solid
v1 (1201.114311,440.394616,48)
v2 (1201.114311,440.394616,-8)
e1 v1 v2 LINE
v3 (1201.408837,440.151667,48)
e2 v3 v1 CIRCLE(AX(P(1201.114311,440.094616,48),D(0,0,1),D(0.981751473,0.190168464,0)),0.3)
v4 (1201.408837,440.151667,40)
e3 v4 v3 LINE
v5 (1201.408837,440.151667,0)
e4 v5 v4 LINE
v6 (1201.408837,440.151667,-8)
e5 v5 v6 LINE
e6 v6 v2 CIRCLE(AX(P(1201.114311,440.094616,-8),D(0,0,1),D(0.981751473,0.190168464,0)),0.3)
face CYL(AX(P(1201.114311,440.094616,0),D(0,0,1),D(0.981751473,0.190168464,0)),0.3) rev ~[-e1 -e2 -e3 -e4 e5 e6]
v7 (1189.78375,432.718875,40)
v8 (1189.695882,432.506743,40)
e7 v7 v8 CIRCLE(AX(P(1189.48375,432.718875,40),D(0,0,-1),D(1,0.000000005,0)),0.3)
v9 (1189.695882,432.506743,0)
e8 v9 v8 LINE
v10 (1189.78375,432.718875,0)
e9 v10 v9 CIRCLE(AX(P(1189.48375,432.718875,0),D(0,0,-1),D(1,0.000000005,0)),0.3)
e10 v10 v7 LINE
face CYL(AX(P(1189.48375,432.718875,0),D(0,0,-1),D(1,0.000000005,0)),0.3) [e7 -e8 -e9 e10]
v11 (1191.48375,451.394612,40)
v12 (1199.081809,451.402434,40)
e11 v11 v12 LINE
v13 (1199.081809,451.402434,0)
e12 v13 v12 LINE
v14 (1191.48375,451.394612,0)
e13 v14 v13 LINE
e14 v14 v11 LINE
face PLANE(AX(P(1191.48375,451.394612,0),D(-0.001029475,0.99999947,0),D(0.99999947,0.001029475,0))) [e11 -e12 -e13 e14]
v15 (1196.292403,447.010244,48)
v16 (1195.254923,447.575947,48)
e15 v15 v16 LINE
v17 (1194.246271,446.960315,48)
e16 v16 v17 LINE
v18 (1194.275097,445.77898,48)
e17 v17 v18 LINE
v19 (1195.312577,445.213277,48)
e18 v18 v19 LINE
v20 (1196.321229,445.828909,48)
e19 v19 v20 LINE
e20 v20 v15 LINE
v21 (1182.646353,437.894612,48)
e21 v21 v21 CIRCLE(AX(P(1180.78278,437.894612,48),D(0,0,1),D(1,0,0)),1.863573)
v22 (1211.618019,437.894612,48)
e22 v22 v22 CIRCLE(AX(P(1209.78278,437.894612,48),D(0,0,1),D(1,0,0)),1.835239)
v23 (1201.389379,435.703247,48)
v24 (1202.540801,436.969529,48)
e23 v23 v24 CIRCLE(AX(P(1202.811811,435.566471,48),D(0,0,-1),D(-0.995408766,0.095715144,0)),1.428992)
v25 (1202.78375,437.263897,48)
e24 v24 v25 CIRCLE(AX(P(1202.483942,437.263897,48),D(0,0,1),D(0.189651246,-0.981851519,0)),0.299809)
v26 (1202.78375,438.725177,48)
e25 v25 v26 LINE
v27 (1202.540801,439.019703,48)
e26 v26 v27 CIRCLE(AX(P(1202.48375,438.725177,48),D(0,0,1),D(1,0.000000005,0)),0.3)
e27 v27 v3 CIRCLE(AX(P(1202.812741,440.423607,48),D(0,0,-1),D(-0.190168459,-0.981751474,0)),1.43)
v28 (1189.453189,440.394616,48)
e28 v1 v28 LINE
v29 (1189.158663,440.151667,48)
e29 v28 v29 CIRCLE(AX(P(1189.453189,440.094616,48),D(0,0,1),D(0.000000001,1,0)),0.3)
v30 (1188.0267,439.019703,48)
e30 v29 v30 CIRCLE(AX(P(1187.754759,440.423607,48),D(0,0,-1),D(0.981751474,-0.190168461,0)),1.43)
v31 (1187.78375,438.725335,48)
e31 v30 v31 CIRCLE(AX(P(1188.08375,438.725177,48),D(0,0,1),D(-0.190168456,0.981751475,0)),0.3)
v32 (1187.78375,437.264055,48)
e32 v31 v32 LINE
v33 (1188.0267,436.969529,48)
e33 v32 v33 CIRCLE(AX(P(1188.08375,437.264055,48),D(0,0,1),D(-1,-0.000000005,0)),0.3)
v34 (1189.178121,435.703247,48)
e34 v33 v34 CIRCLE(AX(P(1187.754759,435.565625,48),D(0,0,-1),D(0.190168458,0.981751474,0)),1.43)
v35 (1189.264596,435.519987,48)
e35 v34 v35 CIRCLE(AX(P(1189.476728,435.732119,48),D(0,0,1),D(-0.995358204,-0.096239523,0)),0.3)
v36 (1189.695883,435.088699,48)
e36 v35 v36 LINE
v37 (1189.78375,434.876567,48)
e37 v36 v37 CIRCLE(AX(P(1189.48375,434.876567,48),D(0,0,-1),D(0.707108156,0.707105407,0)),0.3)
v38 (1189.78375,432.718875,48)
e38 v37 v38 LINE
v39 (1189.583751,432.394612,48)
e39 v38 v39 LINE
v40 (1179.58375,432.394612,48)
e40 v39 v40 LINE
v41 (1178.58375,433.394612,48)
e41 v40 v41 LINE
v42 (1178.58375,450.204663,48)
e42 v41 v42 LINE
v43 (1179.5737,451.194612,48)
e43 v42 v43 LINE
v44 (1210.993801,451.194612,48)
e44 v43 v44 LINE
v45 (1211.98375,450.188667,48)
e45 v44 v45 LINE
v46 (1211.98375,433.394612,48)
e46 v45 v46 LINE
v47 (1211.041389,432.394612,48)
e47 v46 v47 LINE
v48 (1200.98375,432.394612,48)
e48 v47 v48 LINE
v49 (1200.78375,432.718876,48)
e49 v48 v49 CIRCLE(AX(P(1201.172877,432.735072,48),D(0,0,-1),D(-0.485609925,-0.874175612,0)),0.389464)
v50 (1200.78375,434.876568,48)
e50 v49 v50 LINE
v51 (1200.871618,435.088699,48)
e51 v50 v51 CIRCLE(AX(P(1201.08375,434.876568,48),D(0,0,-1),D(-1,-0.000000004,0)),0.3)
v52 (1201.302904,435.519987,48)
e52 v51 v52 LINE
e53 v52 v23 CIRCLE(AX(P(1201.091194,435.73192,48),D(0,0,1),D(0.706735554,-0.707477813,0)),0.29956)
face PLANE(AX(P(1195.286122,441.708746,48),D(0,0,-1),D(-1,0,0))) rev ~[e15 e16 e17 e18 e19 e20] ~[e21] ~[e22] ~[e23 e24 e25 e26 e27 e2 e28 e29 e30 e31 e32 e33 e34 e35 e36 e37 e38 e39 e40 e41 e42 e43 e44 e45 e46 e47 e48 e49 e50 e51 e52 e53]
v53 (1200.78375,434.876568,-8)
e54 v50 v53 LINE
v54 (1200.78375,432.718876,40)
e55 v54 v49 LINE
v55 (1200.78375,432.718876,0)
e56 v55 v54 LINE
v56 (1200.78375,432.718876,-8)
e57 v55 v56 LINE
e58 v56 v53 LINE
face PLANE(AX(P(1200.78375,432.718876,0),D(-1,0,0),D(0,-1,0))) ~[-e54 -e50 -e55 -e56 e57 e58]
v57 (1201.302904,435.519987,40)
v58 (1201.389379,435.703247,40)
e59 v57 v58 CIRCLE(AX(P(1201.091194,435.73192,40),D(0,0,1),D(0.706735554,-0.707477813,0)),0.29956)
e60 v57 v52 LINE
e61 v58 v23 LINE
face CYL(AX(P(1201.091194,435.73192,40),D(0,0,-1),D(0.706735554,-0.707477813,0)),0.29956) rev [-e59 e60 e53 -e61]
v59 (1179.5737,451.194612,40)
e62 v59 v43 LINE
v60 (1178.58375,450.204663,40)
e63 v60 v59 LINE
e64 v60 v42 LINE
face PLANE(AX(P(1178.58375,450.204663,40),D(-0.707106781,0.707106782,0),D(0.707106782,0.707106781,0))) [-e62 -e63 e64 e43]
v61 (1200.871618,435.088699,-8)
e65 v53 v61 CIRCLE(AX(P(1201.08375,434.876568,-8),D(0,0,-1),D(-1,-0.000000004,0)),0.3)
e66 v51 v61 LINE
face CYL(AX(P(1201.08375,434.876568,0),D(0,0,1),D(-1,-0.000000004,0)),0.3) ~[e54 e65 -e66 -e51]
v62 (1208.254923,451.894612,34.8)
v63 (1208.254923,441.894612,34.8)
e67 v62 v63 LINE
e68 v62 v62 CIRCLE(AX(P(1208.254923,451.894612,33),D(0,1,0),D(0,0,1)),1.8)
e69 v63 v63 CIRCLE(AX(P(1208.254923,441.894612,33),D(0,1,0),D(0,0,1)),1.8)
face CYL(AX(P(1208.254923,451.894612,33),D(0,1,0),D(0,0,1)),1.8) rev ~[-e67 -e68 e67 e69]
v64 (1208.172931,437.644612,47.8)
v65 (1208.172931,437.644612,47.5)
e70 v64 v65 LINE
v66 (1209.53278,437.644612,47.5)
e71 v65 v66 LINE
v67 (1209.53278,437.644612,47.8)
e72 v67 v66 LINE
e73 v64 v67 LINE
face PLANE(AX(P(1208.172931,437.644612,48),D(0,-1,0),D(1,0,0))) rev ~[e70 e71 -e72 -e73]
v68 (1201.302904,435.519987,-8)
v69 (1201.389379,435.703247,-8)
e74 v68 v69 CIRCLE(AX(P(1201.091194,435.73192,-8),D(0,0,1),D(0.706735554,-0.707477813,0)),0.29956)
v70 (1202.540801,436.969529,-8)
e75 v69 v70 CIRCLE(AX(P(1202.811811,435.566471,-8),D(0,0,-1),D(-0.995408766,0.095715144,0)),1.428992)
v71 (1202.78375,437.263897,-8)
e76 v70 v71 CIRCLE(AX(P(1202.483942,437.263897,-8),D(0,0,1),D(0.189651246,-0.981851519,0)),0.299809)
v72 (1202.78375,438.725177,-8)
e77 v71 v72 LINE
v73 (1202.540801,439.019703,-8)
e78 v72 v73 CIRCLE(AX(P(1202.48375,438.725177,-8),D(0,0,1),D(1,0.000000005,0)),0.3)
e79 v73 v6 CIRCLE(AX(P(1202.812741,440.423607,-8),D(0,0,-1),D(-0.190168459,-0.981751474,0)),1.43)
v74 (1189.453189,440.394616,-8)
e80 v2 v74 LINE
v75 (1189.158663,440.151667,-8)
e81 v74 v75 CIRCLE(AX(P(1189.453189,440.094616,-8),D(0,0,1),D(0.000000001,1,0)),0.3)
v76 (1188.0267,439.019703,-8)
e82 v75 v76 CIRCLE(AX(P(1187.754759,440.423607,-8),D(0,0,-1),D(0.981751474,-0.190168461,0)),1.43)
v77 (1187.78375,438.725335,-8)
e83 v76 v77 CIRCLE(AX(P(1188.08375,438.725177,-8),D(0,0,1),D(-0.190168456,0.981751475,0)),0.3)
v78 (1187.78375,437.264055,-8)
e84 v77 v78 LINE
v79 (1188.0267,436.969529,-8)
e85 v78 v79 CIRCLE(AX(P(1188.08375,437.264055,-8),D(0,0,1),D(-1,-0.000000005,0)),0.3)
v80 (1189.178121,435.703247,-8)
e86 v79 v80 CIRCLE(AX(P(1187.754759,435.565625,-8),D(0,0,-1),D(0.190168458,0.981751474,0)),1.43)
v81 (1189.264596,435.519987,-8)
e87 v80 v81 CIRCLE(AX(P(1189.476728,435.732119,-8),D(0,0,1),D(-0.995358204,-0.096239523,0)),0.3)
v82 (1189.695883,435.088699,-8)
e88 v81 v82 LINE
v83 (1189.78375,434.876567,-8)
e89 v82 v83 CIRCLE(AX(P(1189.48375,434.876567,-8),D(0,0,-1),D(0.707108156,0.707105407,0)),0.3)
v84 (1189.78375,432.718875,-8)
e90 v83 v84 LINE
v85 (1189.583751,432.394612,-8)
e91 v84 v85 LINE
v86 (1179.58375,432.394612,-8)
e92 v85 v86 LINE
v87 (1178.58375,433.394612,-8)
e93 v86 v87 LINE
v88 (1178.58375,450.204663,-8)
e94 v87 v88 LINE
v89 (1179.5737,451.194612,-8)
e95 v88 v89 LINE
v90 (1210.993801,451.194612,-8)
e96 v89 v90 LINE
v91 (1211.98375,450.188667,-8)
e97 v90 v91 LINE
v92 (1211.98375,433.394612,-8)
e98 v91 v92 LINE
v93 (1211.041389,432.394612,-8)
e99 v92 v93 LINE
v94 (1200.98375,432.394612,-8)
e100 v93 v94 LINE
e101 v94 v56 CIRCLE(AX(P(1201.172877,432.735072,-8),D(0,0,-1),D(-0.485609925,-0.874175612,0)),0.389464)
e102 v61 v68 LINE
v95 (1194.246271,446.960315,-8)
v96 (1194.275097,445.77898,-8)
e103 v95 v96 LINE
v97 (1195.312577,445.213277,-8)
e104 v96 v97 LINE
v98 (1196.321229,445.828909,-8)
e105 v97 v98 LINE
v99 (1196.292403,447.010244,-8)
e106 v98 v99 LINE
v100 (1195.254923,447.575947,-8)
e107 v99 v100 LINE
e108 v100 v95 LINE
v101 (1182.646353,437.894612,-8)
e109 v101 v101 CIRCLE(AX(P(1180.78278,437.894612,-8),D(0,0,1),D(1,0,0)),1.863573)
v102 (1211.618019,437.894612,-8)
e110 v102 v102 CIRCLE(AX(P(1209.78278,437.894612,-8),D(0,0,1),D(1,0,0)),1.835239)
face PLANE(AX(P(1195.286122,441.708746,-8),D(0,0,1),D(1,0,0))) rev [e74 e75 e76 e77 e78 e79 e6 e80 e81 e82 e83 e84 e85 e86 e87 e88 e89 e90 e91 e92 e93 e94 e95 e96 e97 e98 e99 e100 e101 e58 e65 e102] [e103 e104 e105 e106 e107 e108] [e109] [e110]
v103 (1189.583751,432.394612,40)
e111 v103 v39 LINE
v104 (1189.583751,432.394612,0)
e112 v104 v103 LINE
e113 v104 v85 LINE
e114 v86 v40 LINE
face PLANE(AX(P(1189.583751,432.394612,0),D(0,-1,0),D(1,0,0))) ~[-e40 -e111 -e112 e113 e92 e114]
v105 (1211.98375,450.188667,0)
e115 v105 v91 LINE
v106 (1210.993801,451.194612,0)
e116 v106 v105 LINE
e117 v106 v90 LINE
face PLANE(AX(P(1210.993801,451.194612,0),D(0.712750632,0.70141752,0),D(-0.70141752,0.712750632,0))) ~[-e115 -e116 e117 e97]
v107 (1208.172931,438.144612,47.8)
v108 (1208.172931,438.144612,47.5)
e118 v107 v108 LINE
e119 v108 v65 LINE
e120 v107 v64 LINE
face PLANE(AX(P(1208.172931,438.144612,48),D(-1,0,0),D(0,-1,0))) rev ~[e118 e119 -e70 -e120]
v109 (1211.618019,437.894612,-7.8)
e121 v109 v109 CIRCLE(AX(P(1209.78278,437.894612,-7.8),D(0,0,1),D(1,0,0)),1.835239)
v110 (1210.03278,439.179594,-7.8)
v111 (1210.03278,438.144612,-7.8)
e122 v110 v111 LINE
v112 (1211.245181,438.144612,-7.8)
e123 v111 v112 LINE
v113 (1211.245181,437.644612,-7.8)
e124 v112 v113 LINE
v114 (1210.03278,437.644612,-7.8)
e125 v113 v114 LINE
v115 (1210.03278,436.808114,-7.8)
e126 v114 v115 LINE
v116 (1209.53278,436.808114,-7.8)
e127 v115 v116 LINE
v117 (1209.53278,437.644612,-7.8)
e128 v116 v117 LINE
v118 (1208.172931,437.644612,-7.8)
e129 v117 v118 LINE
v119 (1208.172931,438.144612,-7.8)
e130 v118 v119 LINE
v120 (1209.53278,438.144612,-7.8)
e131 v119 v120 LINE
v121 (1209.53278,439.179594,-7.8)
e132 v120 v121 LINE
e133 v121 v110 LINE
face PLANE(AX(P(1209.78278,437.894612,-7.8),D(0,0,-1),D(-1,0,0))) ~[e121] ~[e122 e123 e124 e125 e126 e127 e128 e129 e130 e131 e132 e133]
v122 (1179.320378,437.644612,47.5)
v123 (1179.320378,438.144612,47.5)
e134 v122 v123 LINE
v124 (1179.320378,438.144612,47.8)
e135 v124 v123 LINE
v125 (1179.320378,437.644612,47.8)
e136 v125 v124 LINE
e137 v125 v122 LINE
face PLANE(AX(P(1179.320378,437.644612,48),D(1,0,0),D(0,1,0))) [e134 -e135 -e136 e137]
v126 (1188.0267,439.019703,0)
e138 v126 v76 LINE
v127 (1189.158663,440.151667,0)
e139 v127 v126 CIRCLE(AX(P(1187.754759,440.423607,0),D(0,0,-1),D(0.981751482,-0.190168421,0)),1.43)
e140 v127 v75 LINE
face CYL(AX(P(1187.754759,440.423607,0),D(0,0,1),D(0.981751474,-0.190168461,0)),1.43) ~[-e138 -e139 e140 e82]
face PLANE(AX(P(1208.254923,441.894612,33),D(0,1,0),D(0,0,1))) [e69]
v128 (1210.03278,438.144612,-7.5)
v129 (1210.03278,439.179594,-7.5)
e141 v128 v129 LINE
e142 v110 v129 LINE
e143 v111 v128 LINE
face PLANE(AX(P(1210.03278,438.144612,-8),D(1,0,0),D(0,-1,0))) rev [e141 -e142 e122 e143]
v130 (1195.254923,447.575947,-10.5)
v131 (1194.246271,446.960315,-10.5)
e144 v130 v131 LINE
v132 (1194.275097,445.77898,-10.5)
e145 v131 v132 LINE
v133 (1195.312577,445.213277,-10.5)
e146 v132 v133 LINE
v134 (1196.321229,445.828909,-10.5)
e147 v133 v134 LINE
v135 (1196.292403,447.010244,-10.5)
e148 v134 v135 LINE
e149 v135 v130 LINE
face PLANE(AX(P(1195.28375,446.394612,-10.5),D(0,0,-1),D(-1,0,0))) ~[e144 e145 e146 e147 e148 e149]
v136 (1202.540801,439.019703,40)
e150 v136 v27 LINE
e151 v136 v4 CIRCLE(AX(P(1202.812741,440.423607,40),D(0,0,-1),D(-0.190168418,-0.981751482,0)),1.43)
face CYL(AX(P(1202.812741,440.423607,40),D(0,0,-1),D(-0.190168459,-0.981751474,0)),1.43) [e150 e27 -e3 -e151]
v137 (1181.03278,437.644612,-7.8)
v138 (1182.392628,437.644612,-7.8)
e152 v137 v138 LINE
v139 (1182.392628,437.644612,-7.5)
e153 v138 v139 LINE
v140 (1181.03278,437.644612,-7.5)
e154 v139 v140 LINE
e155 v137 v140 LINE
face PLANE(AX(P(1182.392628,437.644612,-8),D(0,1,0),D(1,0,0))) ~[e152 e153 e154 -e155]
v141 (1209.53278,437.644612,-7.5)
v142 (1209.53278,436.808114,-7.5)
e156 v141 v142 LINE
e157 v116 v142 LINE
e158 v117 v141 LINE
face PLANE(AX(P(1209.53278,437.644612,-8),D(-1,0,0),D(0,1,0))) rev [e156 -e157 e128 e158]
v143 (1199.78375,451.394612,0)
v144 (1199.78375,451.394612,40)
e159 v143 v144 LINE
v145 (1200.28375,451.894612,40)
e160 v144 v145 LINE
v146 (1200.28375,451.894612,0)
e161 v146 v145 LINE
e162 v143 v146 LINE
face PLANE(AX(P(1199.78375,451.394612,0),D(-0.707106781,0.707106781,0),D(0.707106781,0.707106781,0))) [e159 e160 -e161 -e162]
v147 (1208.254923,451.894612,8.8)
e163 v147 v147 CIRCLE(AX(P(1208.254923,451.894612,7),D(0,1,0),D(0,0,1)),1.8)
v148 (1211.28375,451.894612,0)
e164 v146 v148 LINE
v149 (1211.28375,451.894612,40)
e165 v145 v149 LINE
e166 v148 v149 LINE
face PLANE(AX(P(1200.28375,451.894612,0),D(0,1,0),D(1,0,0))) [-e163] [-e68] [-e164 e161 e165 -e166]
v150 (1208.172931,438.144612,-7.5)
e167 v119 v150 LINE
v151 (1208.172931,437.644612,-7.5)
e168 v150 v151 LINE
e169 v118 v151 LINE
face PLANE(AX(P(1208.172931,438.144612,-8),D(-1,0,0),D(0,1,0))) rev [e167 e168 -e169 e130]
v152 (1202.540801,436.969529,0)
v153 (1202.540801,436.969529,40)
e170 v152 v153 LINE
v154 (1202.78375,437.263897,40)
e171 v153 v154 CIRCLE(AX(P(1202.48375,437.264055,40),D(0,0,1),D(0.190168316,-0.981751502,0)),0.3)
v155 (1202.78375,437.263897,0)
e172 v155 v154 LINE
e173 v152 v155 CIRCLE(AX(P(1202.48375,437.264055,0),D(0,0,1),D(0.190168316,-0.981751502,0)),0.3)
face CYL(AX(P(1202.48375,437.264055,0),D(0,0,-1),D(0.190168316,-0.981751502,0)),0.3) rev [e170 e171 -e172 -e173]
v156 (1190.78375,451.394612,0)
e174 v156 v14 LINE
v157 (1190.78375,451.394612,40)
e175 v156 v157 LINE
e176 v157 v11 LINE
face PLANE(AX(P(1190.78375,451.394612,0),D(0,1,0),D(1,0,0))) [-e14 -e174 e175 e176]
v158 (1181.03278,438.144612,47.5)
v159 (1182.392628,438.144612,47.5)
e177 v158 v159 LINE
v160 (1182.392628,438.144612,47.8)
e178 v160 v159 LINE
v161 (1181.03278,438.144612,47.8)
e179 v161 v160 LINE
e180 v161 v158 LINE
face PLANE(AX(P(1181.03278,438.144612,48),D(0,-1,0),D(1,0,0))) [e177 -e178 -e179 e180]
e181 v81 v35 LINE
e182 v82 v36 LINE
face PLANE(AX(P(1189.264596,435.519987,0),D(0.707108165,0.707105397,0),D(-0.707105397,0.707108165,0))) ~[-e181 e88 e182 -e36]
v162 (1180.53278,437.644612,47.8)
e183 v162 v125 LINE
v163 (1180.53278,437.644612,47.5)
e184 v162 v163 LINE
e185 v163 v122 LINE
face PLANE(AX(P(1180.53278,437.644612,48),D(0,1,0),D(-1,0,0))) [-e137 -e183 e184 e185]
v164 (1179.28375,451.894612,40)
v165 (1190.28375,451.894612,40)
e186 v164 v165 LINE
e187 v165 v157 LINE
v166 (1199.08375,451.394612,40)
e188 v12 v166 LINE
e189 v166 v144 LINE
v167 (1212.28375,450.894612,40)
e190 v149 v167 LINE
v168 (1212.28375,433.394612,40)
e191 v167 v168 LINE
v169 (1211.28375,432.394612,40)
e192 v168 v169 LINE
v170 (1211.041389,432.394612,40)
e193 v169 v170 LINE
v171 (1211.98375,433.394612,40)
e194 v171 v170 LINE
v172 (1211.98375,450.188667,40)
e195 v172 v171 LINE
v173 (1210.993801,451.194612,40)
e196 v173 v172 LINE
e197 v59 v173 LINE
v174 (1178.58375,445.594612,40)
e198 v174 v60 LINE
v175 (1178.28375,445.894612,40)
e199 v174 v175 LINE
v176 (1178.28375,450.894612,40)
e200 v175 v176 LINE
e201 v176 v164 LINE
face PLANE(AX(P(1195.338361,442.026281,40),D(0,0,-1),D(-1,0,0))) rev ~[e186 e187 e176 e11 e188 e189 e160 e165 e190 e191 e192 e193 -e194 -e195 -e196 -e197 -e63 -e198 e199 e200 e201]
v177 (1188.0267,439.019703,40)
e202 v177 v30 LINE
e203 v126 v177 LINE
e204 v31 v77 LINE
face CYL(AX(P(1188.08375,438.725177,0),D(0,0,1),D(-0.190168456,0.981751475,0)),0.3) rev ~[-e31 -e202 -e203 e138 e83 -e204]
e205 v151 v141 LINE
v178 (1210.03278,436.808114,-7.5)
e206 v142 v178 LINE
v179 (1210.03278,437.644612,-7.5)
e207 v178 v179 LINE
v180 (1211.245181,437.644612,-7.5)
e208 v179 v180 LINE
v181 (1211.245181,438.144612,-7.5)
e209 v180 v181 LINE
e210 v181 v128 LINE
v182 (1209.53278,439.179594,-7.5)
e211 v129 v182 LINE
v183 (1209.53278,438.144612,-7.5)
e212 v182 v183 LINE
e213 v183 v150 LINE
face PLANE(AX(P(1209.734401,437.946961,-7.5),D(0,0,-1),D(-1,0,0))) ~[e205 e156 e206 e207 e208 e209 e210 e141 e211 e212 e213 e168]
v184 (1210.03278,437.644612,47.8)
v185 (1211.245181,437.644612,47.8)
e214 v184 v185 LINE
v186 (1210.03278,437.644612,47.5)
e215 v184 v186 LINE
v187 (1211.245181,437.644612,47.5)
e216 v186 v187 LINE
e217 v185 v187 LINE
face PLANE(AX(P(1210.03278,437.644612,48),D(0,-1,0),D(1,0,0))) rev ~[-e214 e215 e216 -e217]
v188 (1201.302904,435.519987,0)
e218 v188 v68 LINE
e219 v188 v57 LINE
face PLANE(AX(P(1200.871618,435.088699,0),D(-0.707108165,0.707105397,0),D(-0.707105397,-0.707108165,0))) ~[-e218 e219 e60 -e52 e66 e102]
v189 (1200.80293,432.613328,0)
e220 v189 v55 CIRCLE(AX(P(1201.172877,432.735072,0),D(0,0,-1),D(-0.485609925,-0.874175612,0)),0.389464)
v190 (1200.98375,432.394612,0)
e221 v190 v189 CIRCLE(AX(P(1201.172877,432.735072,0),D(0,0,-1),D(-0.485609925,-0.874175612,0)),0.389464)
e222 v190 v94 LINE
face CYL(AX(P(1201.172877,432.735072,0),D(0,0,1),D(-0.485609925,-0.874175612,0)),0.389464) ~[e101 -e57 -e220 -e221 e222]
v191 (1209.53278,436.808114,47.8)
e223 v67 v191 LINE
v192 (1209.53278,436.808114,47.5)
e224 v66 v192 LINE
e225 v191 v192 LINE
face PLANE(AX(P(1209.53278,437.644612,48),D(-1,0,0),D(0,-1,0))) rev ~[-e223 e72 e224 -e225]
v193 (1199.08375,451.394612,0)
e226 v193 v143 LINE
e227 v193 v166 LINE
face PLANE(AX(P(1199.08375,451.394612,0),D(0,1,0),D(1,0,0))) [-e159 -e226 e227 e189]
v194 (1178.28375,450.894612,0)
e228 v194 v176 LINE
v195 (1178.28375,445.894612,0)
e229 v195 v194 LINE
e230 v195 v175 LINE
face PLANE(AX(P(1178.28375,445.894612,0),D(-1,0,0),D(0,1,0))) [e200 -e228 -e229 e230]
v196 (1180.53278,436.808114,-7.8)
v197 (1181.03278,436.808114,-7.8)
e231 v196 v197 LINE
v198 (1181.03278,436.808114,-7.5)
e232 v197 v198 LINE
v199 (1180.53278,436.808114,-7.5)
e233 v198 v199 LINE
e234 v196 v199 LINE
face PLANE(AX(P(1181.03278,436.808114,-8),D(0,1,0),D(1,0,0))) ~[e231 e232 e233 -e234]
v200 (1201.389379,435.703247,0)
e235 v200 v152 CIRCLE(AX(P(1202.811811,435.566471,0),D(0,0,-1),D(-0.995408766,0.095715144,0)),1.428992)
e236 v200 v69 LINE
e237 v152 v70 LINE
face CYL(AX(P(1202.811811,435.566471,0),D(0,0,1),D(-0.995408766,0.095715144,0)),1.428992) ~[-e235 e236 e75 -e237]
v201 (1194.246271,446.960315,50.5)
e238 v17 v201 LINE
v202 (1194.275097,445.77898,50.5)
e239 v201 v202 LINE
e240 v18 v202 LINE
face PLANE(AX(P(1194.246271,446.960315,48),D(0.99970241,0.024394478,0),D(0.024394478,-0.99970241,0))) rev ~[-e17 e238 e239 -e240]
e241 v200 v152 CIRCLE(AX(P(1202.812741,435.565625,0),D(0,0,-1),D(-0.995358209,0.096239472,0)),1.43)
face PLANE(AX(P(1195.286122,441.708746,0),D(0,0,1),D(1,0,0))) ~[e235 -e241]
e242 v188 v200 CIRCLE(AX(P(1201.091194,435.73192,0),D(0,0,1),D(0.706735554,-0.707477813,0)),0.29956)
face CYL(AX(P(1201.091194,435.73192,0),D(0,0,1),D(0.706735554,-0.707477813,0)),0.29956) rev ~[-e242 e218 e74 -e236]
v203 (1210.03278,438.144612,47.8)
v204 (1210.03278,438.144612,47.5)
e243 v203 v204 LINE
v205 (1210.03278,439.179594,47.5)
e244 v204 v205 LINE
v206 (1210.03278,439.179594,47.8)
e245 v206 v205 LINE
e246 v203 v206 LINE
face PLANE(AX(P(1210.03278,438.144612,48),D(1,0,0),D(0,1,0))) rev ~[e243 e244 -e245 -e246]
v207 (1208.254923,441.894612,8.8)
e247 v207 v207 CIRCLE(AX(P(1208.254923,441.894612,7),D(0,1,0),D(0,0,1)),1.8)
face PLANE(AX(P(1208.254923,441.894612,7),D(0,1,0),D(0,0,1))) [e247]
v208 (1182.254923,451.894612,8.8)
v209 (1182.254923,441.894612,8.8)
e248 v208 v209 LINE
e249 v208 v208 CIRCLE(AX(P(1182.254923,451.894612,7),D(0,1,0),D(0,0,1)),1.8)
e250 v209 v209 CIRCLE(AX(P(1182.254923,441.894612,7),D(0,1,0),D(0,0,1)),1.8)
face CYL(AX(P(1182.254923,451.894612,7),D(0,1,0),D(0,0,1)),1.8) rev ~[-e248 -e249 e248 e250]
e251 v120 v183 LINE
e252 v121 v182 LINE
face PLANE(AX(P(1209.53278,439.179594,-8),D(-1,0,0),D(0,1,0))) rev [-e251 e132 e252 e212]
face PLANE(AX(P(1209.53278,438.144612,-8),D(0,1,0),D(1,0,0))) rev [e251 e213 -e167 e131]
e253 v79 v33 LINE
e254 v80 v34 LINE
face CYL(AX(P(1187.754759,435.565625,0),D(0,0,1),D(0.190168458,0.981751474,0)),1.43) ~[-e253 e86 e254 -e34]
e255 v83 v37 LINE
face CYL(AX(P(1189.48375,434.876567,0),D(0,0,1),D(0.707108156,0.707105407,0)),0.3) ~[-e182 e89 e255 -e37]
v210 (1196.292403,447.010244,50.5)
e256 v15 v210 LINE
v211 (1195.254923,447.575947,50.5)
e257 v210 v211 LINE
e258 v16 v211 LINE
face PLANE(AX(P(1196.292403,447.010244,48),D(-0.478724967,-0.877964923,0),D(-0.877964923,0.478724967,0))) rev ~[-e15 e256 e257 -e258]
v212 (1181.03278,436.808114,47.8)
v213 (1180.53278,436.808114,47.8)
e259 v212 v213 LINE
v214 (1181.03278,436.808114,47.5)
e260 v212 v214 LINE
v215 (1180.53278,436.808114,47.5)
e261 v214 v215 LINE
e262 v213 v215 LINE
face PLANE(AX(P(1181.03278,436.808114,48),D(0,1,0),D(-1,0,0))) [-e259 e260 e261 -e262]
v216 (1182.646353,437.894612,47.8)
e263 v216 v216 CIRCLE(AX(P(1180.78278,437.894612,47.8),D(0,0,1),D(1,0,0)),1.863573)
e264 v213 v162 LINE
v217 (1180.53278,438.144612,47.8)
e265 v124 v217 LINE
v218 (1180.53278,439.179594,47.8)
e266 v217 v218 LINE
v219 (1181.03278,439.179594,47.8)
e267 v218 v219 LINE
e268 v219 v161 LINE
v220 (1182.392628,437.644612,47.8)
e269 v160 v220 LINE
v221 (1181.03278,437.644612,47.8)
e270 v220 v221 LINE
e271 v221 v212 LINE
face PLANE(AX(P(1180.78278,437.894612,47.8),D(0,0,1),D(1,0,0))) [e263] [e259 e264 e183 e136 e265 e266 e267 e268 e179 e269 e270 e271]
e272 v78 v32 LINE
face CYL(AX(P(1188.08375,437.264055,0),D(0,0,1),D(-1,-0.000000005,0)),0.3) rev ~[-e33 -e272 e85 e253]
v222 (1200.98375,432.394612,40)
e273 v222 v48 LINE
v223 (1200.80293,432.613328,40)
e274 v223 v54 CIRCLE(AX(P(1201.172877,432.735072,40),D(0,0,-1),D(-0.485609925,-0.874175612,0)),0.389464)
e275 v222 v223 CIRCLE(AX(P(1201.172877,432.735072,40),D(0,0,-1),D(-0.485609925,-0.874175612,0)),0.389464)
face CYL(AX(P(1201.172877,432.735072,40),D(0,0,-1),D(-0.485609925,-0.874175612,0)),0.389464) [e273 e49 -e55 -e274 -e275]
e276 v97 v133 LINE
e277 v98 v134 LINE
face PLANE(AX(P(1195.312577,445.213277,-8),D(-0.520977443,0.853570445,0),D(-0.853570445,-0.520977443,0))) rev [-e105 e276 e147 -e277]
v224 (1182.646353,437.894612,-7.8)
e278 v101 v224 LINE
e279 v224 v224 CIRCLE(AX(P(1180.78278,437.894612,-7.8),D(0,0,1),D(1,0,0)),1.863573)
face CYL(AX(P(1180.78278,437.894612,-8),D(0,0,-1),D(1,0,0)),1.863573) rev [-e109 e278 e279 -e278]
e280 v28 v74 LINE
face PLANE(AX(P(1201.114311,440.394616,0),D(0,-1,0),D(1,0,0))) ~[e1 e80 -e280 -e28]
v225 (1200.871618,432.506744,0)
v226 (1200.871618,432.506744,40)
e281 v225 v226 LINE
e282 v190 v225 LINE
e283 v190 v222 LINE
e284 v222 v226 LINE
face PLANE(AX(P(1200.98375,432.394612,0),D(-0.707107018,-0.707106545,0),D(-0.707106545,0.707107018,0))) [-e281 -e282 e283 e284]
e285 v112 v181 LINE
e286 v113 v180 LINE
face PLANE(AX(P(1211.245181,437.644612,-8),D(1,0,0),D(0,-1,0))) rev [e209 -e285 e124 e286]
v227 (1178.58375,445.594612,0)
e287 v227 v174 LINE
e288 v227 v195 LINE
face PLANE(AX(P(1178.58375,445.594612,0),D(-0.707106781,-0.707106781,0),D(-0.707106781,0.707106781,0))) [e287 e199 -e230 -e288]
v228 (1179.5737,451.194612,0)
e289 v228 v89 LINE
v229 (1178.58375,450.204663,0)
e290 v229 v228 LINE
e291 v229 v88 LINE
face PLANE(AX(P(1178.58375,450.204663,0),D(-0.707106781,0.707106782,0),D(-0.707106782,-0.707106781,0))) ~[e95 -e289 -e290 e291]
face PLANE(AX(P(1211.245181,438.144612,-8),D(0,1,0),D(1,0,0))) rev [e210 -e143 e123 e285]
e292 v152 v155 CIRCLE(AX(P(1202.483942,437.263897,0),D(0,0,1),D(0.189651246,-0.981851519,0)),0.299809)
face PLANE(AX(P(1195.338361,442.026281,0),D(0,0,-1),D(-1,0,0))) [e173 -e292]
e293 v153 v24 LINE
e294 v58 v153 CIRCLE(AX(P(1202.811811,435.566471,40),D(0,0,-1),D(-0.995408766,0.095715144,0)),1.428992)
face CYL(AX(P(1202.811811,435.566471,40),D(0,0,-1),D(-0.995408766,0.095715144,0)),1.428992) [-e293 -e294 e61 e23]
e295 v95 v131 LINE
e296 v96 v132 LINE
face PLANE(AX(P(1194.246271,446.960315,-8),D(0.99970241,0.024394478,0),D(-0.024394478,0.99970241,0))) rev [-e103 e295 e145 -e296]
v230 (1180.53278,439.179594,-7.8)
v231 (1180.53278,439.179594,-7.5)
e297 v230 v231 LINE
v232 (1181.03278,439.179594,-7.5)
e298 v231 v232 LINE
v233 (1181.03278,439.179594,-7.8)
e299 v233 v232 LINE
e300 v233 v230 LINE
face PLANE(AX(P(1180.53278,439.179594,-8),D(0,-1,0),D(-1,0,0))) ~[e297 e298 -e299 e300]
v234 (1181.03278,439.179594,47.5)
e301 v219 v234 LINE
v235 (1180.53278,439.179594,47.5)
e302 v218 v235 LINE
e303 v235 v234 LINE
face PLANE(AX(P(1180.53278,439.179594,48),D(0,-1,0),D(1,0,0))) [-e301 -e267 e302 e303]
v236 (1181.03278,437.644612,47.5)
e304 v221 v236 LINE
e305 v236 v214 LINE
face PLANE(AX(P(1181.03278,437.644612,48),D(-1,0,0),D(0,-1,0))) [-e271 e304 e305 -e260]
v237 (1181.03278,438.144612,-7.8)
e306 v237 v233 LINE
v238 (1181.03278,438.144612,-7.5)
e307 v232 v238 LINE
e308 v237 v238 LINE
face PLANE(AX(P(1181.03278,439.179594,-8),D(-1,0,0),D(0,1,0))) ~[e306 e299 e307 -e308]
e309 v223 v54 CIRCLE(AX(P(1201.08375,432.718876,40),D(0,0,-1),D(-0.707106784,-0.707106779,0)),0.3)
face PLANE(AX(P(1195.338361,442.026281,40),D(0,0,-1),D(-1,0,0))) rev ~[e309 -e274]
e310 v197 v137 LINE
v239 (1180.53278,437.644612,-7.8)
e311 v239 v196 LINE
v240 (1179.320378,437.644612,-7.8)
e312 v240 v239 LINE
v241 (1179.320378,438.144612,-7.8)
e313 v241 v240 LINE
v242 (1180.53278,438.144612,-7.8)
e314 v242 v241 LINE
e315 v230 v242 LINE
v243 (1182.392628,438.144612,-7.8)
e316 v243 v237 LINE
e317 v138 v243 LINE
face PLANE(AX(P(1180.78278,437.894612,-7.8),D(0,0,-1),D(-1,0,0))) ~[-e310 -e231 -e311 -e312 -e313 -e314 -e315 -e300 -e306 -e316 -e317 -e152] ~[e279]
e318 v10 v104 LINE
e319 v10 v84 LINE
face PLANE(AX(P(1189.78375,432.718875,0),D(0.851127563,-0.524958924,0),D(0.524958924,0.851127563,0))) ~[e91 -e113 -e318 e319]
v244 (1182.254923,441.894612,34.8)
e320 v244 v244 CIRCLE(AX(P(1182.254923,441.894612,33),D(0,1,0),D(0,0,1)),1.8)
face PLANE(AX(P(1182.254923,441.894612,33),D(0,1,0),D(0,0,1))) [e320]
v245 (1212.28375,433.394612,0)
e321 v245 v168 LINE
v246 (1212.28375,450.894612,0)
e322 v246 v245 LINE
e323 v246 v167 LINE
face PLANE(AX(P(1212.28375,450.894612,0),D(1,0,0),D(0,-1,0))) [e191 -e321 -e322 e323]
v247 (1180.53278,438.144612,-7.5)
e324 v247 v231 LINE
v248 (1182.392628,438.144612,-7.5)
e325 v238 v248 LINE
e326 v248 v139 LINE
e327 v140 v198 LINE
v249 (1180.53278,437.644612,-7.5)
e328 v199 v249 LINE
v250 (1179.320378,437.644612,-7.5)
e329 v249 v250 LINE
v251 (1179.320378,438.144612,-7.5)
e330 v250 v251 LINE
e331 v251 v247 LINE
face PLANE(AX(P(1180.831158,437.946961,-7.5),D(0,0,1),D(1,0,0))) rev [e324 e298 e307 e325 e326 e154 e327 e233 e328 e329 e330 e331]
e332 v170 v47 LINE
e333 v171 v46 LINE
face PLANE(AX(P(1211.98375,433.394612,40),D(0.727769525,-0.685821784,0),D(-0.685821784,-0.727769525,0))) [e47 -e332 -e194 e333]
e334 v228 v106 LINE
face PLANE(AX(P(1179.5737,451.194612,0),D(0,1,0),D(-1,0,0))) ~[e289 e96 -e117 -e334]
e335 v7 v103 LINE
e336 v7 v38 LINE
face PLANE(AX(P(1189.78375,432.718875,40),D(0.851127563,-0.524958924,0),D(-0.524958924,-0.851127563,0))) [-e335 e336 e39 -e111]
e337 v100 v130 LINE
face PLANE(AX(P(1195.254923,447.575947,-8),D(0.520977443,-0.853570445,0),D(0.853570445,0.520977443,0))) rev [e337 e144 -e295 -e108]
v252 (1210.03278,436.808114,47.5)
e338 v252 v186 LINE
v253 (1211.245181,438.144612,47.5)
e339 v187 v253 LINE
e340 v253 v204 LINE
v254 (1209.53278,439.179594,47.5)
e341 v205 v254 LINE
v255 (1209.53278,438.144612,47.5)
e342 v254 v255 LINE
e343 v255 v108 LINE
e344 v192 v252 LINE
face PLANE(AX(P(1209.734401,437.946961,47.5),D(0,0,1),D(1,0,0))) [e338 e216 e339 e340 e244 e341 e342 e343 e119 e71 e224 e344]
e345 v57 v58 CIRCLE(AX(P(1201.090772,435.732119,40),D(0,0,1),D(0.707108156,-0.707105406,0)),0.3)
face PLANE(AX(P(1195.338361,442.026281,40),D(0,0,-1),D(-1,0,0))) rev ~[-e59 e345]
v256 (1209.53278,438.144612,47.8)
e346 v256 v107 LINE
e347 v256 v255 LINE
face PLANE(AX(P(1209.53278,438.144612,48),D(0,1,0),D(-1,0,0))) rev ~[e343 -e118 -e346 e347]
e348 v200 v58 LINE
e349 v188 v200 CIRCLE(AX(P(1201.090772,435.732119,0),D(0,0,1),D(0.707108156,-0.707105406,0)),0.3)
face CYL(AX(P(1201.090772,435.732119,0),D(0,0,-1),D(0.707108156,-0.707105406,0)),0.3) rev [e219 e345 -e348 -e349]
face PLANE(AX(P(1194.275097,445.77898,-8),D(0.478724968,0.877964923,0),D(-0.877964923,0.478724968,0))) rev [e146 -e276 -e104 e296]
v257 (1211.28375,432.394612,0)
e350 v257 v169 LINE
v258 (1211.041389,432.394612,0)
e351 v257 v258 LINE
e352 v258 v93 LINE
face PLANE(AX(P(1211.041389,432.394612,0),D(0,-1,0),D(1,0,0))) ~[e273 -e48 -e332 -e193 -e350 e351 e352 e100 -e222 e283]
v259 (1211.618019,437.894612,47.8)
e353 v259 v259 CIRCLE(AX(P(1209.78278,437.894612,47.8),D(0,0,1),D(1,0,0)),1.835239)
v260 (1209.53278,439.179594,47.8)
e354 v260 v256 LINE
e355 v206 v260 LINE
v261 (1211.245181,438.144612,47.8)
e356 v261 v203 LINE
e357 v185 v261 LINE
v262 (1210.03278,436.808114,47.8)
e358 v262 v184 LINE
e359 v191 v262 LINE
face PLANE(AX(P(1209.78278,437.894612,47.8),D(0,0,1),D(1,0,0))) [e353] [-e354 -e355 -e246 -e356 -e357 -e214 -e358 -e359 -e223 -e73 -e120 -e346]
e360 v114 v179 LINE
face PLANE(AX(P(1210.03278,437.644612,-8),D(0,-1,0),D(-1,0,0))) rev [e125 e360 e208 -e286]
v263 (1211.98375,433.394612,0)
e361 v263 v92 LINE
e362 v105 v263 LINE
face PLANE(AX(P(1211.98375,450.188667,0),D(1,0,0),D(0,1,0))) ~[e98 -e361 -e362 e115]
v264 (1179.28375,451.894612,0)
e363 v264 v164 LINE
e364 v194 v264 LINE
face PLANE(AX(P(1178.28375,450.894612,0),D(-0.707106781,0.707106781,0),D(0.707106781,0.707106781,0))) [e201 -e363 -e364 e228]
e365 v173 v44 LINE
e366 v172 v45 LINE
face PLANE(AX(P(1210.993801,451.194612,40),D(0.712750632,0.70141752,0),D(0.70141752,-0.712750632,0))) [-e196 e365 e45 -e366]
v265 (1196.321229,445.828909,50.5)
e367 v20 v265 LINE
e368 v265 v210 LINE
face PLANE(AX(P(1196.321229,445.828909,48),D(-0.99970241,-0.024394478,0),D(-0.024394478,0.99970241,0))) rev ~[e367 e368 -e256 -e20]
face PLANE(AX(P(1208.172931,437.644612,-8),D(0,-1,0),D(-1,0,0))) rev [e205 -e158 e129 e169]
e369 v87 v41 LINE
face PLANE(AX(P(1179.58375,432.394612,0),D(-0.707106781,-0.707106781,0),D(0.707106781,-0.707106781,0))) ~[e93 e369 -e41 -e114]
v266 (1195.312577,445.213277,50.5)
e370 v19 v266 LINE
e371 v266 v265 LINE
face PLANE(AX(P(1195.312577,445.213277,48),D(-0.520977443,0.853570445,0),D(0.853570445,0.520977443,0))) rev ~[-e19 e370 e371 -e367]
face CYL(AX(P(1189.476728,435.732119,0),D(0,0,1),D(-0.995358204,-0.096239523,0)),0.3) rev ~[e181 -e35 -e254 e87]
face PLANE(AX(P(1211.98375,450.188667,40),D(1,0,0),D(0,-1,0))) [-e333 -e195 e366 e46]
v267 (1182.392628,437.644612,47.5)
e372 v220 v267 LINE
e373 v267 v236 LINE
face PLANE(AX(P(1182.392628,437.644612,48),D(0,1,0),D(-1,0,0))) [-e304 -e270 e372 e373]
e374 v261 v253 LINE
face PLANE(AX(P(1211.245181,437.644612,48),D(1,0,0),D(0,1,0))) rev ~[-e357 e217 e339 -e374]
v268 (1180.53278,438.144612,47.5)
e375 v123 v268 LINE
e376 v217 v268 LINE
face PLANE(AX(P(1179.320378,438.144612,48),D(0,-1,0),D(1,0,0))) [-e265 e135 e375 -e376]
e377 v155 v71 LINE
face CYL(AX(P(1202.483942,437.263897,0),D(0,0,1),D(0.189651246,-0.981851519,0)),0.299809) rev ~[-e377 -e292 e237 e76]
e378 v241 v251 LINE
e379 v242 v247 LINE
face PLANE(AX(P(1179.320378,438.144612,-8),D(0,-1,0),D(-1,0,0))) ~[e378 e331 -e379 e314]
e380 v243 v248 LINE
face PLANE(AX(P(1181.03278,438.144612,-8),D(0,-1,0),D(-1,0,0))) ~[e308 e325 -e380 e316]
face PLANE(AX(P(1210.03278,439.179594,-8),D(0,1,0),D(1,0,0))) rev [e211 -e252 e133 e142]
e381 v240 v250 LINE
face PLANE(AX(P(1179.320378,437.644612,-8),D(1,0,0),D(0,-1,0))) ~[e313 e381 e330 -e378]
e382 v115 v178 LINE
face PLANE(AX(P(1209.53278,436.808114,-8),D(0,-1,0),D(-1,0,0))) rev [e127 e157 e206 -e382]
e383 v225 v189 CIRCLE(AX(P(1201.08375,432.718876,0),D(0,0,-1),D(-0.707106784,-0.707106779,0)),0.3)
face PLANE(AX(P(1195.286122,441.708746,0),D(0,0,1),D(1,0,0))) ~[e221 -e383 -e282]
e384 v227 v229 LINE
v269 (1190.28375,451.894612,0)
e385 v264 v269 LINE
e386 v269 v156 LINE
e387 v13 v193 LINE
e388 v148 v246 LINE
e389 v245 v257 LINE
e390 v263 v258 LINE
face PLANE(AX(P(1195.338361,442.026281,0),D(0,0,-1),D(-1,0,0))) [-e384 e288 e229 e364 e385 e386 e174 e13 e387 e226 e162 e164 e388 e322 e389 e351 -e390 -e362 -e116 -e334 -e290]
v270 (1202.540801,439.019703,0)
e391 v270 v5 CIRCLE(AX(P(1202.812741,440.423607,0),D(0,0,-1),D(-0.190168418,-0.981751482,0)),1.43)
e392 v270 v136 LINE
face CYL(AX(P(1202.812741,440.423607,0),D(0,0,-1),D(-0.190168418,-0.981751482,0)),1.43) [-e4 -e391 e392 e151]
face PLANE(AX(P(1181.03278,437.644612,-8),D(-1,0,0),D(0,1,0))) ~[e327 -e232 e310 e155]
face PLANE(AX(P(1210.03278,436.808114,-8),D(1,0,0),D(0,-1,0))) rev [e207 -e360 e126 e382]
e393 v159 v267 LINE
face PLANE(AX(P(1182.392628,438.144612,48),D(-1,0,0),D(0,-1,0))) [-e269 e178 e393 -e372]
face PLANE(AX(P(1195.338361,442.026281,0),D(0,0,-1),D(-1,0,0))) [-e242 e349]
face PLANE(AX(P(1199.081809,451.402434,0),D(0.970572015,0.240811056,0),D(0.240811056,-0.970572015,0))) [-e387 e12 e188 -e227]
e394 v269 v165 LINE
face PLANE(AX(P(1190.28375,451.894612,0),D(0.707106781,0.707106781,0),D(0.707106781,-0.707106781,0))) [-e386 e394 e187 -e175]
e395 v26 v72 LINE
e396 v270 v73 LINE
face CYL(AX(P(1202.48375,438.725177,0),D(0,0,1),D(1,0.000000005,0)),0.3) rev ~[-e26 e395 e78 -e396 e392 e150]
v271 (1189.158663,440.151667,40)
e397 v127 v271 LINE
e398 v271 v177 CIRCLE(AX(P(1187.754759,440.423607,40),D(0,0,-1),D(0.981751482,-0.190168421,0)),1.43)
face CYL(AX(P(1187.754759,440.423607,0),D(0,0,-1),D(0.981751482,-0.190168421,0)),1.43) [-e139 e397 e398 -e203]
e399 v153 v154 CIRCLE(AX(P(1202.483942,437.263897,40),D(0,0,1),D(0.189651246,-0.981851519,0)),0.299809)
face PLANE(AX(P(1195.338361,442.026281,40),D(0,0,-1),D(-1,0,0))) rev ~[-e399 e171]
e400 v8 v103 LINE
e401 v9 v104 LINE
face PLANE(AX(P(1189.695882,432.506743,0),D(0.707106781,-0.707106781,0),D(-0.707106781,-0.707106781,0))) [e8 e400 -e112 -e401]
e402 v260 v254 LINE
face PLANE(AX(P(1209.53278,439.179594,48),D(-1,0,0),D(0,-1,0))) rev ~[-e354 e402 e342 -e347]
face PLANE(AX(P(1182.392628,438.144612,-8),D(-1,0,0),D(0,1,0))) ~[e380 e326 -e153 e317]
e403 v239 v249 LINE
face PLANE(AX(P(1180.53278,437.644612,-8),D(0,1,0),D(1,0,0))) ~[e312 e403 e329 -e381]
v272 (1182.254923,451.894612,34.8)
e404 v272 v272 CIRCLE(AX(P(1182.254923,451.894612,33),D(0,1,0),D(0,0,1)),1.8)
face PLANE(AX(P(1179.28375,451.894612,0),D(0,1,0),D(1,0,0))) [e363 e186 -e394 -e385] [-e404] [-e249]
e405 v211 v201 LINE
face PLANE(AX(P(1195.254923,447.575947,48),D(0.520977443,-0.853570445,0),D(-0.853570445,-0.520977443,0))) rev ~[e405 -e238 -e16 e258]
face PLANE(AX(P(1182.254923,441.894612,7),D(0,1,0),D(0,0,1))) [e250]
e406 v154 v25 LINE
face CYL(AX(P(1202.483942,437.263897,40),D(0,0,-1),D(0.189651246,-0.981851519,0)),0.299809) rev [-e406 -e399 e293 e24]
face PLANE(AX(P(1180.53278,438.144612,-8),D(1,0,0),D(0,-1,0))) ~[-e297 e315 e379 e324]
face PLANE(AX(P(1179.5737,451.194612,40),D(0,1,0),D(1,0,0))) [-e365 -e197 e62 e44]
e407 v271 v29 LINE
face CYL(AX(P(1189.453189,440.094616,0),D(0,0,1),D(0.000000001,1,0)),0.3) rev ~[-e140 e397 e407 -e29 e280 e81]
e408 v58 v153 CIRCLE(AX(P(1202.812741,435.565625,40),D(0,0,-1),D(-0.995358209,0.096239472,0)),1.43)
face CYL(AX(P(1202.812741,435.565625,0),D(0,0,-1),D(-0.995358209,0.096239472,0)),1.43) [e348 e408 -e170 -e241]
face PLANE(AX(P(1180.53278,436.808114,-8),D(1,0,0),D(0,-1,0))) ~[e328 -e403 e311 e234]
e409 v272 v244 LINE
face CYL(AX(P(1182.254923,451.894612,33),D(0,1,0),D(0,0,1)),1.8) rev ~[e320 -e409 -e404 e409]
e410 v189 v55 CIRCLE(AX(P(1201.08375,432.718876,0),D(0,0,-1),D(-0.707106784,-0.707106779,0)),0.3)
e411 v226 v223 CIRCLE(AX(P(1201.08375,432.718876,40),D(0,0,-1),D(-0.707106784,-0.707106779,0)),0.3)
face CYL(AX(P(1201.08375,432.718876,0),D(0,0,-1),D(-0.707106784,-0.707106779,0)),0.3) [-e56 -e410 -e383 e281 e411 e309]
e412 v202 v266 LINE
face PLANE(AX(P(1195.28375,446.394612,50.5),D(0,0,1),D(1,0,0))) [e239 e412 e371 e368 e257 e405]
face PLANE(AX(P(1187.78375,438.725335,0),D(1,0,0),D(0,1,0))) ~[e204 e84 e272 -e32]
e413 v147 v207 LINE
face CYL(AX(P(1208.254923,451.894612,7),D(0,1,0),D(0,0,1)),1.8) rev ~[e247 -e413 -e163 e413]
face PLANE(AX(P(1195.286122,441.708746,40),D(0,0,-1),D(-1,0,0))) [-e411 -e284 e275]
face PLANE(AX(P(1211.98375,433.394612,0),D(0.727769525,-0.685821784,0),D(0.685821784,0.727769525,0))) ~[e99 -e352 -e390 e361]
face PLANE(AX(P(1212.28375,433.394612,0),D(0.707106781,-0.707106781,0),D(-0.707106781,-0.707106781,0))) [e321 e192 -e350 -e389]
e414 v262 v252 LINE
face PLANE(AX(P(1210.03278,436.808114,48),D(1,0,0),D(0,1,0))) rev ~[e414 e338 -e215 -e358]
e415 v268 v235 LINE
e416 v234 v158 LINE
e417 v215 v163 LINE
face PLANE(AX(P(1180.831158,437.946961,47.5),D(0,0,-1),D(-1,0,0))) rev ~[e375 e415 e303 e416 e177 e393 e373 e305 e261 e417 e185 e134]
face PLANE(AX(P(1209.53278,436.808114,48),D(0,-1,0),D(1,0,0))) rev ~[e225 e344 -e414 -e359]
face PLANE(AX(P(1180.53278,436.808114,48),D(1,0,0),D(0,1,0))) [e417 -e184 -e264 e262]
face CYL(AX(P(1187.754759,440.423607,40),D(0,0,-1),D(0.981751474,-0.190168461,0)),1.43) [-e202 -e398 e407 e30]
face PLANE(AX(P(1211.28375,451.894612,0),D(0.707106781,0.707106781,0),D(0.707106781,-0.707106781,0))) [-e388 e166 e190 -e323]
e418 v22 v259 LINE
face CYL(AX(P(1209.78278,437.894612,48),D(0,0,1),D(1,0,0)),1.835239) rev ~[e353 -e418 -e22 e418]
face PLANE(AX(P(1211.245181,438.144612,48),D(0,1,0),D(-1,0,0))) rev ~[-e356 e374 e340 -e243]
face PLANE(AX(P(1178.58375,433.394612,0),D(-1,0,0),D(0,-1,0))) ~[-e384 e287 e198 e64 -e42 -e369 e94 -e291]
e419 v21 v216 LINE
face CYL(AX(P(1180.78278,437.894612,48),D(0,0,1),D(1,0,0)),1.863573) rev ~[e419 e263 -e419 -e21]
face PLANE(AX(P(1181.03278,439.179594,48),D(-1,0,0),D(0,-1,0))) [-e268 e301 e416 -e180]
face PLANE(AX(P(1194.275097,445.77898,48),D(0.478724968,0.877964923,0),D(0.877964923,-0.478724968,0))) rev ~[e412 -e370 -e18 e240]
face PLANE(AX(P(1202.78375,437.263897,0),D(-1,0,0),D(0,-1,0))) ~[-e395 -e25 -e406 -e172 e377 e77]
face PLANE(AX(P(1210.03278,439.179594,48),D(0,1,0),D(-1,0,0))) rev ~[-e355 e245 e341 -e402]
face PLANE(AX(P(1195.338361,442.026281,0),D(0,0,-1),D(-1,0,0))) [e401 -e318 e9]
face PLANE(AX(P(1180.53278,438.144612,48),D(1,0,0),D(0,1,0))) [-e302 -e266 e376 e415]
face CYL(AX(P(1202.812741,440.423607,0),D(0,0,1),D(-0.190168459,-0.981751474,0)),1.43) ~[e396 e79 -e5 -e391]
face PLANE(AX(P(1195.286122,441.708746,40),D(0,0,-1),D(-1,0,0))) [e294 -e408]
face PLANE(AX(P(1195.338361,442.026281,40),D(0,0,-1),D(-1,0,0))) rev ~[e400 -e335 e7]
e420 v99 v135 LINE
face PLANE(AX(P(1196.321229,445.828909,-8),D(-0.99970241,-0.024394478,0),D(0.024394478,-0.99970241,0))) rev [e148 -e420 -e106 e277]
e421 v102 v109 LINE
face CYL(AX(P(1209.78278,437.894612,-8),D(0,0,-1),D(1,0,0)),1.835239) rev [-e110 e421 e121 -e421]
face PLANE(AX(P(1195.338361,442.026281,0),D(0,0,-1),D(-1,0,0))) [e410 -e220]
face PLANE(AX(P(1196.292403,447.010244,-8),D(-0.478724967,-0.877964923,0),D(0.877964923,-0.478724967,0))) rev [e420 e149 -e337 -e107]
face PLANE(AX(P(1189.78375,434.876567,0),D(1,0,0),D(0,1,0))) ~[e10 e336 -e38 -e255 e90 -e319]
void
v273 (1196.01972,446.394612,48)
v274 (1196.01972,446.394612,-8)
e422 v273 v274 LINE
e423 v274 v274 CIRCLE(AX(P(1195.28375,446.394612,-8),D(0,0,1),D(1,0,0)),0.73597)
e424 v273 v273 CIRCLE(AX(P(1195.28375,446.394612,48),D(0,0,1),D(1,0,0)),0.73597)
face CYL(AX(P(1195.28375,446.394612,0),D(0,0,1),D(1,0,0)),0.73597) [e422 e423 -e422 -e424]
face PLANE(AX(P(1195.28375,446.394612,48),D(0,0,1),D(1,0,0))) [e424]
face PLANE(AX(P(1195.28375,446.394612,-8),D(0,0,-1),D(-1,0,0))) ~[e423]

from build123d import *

# Parameters (mm, degrees)
SKETCH_1_R          = 0.735969578
EXTRUDE_1_DEPTH     = 40
SKETCH_2_R          = 0.735969578
EXTRUDE_2_DEPTH     = 8
SKETCH_3_R          = 1.863573056
SKETCH_3_R_2        = 1.835239234
CUT_EXTRUDE_3_DEPTH = 0.2
CUT_EXTRUDE_6_DEPTH = 0.5
EXTRUDE_7_DEPTH     = 2.5
SKETCH_6_R          = 1.8
CUT_EXTRUDE_8_DEPTH = 10


with BuildPart() as part:
    # 草图1 → 拉伸1 (new body)
    with BuildSketch(Plane.XY):
        with BuildLine():
            Line((1190.283750121, 451.89461201), (1190.783750121, 451.39461201))
            Line((1190.783750121, 451.39461201), (1191.483750121, 451.39461201))
            Line((1191.483750121, 451.39461201), (1199.081809381, 451.402434026))
            Line((1199.081809381, 451.402434026), (1199.083750121, 451.39461201))
            Line((1199.083750121, 451.39461201), (1199.783750121, 451.39461201))
            Line((1199.783750121, 451.39461201), (1200.283750121, 451.89461201))
            Line((1200.283750121, 451.89461201), (1211.283750121, 451.89461201))
            Line((1211.283750121, 451.89461201), (1212.283750121, 450.89461201))
            Line((1212.283750121, 450.89461201), (1212.283750121, 433.39461201))
            Line((1212.283750121, 433.39461201), (1211.283750121, 432.39461201))
            Line((1211.283750121, 432.39461201), (1200.983749521, 432.39461201))
            Line((1200.983749521, 432.39461201), (1200.871618065, 432.506743541))
            ThreePointArc((1200.871618065, 432.506743541), (1200.80658624, 432.604070545), (1200.783750099, 432.718875575))
            Line((1200.783750099, 432.718875575), (1200.783750099, 434.876567528))
            ThreePointArc((1200.783750099, 434.876567528), (1200.806586127, 434.991372287), (1200.87161765, 435.088699147))
            Line((1200.87161765, 435.088699147), (1201.302904227, 435.519987412))
            ThreePointArc((1201.302904227, 435.519987412), (1201.362083129, 435.604095006), (1201.389379239, 435.703247172))
            ThreePointArc((1201.389379239, 435.703247172), (1201.754733531, 436.527663779), (1202.540800569, 436.969529272))
            ThreePointArc((1202.540800569, 436.969529272), (1202.71512489, 437.073094794), (1202.783750031, 437.263896724))
            Line((1202.783750031, 437.263896724), (1202.783750031, 438.725177348))
            ThreePointArc((1202.783750031, 438.725177348), (1202.715175139, 438.916076324), (1202.540800569, 439.01970279))
            ThreePointArc((1202.540800569, 439.01970279), (1201.801578733, 439.4124447), (1201.408836823, 440.151666536))
            ThreePointArc((1201.408836823, 440.151666536), (1201.305210357, 440.326041106), (1201.114311381, 440.394615998))
            Line((1201.114311381, 440.394615998), (1189.453188747, 440.394615998))
            ThreePointArc((1189.453188747, 440.394615998), (1189.26228977, 440.326041106), (1189.158663305, 440.151666536))
            ThreePointArc((1189.158663305, 440.151666536), (1188.765921394, 439.412444701), (1188.026699559, 439.01970279))
            ThreePointArc((1188.026699559, 439.01970279), (1187.852375251, 438.916137249), (1187.783750121, 438.725335317))
            Line((1187.783750121, 438.725335317), (1187.783750121, 437.264054693))
            ThreePointArc((1187.783750121, 437.264054693), (1187.852325013, 437.073155717), (1188.026699583, 436.969529251))
            ThreePointArc((1188.026699583, 436.969529251), (1188.812766668, 436.527663733), (1189.178120982, 435.703247076))
            ThreePointArc((1189.178120982, 435.703247076), (1189.205417093, 435.60409491), (1189.264595994, 435.519987316))
            Line((1189.264595994, 435.519987316), (1189.695882571, 435.088699051))
            ThreePointArc((1189.695882571, 435.088699051), (1189.760914094, 434.991372191), (1189.783750121, 434.876567432))
            Line((1189.783750121, 434.876567432), (1189.783750121, 432.718875479))
            ThreePointArc((1189.783750121, 432.718875479), (1189.760913981, 432.604070449), (1189.695882156, 432.506743445))
            Line((1189.695882156, 432.506743445), (1189.583750721, 432.39461201))
            Line((1189.583750721, 432.39461201), (1179.583750121, 432.39461201))
            Line((1179.583750121, 432.39461201), (1178.583750121, 433.39461201))
            Line((1178.583750121, 433.39461201), (1178.583750121, 445.59461201))
            Line((1178.583750121, 445.59461201), (1178.283750121, 445.89461201))
            Line((1178.283750121, 445.89461201), (1178.283750121, 450.89461201))
            Line((1178.283750121, 450.89461201), (1179.283750121, 451.89461201))
            Line((1179.283750121, 451.89461201), (1190.283750121, 451.89461201))
        make_face()
        with Locations((1195.283750121, 446.39461201)):
            Circle(SKETCH_1_R, mode=Mode.SUBTRACT)
    extrude(amount=EXTRUDE_1_DEPTH)

    # 草图2 → 拉伸2 (add)
    with BuildSketch(Plane.XY.offset(40)):
        with BuildLine():
            Line((1211.041388892, 432.39461201), (1200.983749521, 432.39461201))
            ThreePointArc((1200.983749521, 432.39461201), (1200.8413936, 432.530619311), (1200.783750099, 432.718875575))
            Line((1200.783750099, 432.718875575), (1200.783750099, 434.876567528))
            ThreePointArc((1200.783750099, 434.876567528), (1200.806586127, 434.991372287), (1200.87161765, 435.088699147))
            Line((1200.87161765, 435.088699147), (1201.302904227, 435.519987412))
            ThreePointArc((1201.302904227, 435.519987412), (1201.362107996, 435.604083272), (1201.389379239, 435.703247172))
            ThreePointArc((1201.389379239, 435.703247172), (1201.754548351, 436.527832162), (1202.540800569, 436.969529272))
            ThreePointArc((1202.540800569, 436.969529272), (1202.715168649, 437.073058679), (1202.783750031, 437.263896724))
            Line((1202.783750031, 437.263896724), (1202.783750031, 438.725177348))
            ThreePointArc((1202.783750031, 438.725177348), (1202.715175139, 438.916076324), (1202.540800569, 439.01970279))
            ThreePointArc((1202.540800569, 439.01970279), (1201.801578746, 439.412444713), (1201.408836823, 440.151666536))
            ThreePointArc((1201.408836823, 440.151666536), (1201.305210357, 440.326041106), (1201.114311381, 440.394615998))
            Line((1201.114311381, 440.394615998), (1189.453188747, 440.394615998))
            ThreePointArc((1189.453188747, 440.394615998), (1189.26228977, 440.326041106), (1189.158663305, 440.151666536))
            ThreePointArc((1189.158663305, 440.151666536), (1188.765921381, 439.412444713), (1188.026699559, 439.01970279))
            ThreePointArc((1188.026699559, 439.01970279), (1187.852375251, 438.916137249), (1187.783750121, 438.725335317))
            Line((1187.783750121, 438.725335317), (1187.783750121, 437.264054693))
            ThreePointArc((1187.783750121, 437.264054693), (1187.852325013, 437.073155717), (1188.026699583, 436.969529251))
            ThreePointArc((1188.026699583, 436.969529251), (1188.812766654, 436.52766372), (1189.178120982, 435.703247076))
            ThreePointArc((1189.178120982, 435.703247076), (1189.205417092, 435.60409491), (1189.264595994, 435.519987316))
            Line((1189.264595994, 435.519987316), (1189.695882571, 435.088699051))
            ThreePointArc((1189.695882571, 435.088699051), (1189.760914094, 434.991372191), (1189.783750121, 434.876567432))
            Line((1189.783750121, 434.876567432), (1189.783750121, 432.718875479))
            Line((1189.783750121, 432.718875479), (1189.583750721, 432.39461201))
            Line((1189.583750721, 432.39461201), (1179.583750121, 432.39461201))
            Line((1179.583750121, 432.39461201), (1178.583750121, 433.39461201))
            Line((1178.583750121, 433.39461201), (1178.583750121, 450.204662517))
            Line((1178.583750121, 450.204662517), (1179.573699615, 451.19461201))
            Line((1179.573699615, 451.19461201), (1210.993800628, 451.19461201))
            Line((1210.993800628, 451.19461201), (1211.983750121, 450.188667467))
            Line((1211.983750121, 450.188667467), (1211.983750121, 433.39461201))
            Line((1211.983750121, 433.39461201), (1211.041388892, 432.39461201))
        make_face()
        with Locations((1195.283750121, 446.39461201)):
            Circle(SKETCH_2_R, mode=Mode.SUBTRACT)
    extrude_2 = extrude(amount=EXTRUDE_2_DEPTH)

    # 镜向2: 拉伸2 across plane
    add(extrude_2.mirror(Plane(origin=(0, 0, 20), x_dir=(1, 0, 0), z_dir=(0, 0, -1))))

    # 草图3 → 拉伸3 (cut)
    with BuildSketch(Plane.XY.offset(48)):
        with Locations((1180.782779751, 437.89461201)):
            Circle(SKETCH_3_R)
        with Locations((1209.782779751, 437.89461201)):
            Circle(SKETCH_3_R_2)
    cut_extrude_3 = extrude(amount=-CUT_EXTRUDE_3_DEPTH, mode=Mode.SUBTRACT)

    # 草图3<4> → 拉伸6 (cut)
    with BuildSketch(Plane.XY.offset(48)):
        Polygon((1209.532779751, 437.64461201), (1209.532779751, 436.80811406), (1210.032779751, 436.80811406), (1210.032779751, 436.829157907), (1210.032779751, 437.64461201), (1211.245181043, 437.64461201), (1211.245181043, 438.14461201), (1210.032779751, 438.14461201), (1210.032779751, 439.179594206), (1209.532779751, 439.179594206), (1209.532779751, 438.14461201), (1208.172931448, 438.14461201), (1208.172931448, 437.64461201), align=None)
        Polygon((1179.320378459, 438.14461201), (1180.532779751, 438.14461201), (1180.532779751, 439.179594206), (1181.032779751, 439.179594206), (1181.032779751, 438.14461201), (1182.392628054, 438.14461201), (1182.392628054, 437.64461201), (1181.032779751, 437.64461201), (1181.032779751, 436.80811406), (1180.532779751, 436.80811406), (1180.532779751, 437.64461201), (1179.320378459, 437.64461201), align=None)
    cut_extrude_6 = extrude(amount=-CUT_EXTRUDE_6_DEPTH, mode=Mode.SUBTRACT)

    # 镜向3: 拉伸3, 拉伸6 across plane
    add(cut_extrude_3.mirror(Plane(origin=(0, 0, 20), x_dir=(1, 0, 0), z_dir=(0, 0, -1))), mode=Mode.SUBTRACT)
    add(cut_extrude_6.mirror(Plane(origin=(0, 0, 20), x_dir=(1, 0, 0), z_dir=(0, 0, -1))), mode=Mode.SUBTRACT)

    # 草图5 → 拉伸7 (add)
    with BuildSketch(Plane.XY.offset(48)):
        Polygon((1196.321229408, 445.828909184), (1196.292402783, 447.010244015), (1195.254923496, 447.575946841), (1194.246270835, 446.960314836), (1194.27509746, 445.778980005), (1195.312576746, 445.213277179), align=None)
    extrude_7 = extrude(amount=EXTRUDE_7_DEPTH)

    # 镜向4: 拉伸7 across plane
    add(extrude_7.mirror(Plane(origin=(0, 0, 20), x_dir=(1, 0, 0), z_dir=(0, 0, -1))))

    # 草图6 → 拉伸8 (cut)
    with BuildSketch(Plane(origin=(0, 451.89461201, 0), x_dir=(1, 0, 0), z_dir=(0, 1, 0))):
        with Locations((1208.254923496, -7)):
            Circle(SKETCH_6_R)
        with Locations((1182.254923496, -7)):
            Circle(SKETCH_6_R)
        with Locations((1208.254923496, -33)):
            Circle(SKETCH_6_R)
        with Locations((1182.254923496, -33)):
            Circle(SKETCH_6_R)
    extrude(amount=-CUT_EXTRUDE_8_DEPTH, mode=Mode.SUBTRACT)


solid = part.part
